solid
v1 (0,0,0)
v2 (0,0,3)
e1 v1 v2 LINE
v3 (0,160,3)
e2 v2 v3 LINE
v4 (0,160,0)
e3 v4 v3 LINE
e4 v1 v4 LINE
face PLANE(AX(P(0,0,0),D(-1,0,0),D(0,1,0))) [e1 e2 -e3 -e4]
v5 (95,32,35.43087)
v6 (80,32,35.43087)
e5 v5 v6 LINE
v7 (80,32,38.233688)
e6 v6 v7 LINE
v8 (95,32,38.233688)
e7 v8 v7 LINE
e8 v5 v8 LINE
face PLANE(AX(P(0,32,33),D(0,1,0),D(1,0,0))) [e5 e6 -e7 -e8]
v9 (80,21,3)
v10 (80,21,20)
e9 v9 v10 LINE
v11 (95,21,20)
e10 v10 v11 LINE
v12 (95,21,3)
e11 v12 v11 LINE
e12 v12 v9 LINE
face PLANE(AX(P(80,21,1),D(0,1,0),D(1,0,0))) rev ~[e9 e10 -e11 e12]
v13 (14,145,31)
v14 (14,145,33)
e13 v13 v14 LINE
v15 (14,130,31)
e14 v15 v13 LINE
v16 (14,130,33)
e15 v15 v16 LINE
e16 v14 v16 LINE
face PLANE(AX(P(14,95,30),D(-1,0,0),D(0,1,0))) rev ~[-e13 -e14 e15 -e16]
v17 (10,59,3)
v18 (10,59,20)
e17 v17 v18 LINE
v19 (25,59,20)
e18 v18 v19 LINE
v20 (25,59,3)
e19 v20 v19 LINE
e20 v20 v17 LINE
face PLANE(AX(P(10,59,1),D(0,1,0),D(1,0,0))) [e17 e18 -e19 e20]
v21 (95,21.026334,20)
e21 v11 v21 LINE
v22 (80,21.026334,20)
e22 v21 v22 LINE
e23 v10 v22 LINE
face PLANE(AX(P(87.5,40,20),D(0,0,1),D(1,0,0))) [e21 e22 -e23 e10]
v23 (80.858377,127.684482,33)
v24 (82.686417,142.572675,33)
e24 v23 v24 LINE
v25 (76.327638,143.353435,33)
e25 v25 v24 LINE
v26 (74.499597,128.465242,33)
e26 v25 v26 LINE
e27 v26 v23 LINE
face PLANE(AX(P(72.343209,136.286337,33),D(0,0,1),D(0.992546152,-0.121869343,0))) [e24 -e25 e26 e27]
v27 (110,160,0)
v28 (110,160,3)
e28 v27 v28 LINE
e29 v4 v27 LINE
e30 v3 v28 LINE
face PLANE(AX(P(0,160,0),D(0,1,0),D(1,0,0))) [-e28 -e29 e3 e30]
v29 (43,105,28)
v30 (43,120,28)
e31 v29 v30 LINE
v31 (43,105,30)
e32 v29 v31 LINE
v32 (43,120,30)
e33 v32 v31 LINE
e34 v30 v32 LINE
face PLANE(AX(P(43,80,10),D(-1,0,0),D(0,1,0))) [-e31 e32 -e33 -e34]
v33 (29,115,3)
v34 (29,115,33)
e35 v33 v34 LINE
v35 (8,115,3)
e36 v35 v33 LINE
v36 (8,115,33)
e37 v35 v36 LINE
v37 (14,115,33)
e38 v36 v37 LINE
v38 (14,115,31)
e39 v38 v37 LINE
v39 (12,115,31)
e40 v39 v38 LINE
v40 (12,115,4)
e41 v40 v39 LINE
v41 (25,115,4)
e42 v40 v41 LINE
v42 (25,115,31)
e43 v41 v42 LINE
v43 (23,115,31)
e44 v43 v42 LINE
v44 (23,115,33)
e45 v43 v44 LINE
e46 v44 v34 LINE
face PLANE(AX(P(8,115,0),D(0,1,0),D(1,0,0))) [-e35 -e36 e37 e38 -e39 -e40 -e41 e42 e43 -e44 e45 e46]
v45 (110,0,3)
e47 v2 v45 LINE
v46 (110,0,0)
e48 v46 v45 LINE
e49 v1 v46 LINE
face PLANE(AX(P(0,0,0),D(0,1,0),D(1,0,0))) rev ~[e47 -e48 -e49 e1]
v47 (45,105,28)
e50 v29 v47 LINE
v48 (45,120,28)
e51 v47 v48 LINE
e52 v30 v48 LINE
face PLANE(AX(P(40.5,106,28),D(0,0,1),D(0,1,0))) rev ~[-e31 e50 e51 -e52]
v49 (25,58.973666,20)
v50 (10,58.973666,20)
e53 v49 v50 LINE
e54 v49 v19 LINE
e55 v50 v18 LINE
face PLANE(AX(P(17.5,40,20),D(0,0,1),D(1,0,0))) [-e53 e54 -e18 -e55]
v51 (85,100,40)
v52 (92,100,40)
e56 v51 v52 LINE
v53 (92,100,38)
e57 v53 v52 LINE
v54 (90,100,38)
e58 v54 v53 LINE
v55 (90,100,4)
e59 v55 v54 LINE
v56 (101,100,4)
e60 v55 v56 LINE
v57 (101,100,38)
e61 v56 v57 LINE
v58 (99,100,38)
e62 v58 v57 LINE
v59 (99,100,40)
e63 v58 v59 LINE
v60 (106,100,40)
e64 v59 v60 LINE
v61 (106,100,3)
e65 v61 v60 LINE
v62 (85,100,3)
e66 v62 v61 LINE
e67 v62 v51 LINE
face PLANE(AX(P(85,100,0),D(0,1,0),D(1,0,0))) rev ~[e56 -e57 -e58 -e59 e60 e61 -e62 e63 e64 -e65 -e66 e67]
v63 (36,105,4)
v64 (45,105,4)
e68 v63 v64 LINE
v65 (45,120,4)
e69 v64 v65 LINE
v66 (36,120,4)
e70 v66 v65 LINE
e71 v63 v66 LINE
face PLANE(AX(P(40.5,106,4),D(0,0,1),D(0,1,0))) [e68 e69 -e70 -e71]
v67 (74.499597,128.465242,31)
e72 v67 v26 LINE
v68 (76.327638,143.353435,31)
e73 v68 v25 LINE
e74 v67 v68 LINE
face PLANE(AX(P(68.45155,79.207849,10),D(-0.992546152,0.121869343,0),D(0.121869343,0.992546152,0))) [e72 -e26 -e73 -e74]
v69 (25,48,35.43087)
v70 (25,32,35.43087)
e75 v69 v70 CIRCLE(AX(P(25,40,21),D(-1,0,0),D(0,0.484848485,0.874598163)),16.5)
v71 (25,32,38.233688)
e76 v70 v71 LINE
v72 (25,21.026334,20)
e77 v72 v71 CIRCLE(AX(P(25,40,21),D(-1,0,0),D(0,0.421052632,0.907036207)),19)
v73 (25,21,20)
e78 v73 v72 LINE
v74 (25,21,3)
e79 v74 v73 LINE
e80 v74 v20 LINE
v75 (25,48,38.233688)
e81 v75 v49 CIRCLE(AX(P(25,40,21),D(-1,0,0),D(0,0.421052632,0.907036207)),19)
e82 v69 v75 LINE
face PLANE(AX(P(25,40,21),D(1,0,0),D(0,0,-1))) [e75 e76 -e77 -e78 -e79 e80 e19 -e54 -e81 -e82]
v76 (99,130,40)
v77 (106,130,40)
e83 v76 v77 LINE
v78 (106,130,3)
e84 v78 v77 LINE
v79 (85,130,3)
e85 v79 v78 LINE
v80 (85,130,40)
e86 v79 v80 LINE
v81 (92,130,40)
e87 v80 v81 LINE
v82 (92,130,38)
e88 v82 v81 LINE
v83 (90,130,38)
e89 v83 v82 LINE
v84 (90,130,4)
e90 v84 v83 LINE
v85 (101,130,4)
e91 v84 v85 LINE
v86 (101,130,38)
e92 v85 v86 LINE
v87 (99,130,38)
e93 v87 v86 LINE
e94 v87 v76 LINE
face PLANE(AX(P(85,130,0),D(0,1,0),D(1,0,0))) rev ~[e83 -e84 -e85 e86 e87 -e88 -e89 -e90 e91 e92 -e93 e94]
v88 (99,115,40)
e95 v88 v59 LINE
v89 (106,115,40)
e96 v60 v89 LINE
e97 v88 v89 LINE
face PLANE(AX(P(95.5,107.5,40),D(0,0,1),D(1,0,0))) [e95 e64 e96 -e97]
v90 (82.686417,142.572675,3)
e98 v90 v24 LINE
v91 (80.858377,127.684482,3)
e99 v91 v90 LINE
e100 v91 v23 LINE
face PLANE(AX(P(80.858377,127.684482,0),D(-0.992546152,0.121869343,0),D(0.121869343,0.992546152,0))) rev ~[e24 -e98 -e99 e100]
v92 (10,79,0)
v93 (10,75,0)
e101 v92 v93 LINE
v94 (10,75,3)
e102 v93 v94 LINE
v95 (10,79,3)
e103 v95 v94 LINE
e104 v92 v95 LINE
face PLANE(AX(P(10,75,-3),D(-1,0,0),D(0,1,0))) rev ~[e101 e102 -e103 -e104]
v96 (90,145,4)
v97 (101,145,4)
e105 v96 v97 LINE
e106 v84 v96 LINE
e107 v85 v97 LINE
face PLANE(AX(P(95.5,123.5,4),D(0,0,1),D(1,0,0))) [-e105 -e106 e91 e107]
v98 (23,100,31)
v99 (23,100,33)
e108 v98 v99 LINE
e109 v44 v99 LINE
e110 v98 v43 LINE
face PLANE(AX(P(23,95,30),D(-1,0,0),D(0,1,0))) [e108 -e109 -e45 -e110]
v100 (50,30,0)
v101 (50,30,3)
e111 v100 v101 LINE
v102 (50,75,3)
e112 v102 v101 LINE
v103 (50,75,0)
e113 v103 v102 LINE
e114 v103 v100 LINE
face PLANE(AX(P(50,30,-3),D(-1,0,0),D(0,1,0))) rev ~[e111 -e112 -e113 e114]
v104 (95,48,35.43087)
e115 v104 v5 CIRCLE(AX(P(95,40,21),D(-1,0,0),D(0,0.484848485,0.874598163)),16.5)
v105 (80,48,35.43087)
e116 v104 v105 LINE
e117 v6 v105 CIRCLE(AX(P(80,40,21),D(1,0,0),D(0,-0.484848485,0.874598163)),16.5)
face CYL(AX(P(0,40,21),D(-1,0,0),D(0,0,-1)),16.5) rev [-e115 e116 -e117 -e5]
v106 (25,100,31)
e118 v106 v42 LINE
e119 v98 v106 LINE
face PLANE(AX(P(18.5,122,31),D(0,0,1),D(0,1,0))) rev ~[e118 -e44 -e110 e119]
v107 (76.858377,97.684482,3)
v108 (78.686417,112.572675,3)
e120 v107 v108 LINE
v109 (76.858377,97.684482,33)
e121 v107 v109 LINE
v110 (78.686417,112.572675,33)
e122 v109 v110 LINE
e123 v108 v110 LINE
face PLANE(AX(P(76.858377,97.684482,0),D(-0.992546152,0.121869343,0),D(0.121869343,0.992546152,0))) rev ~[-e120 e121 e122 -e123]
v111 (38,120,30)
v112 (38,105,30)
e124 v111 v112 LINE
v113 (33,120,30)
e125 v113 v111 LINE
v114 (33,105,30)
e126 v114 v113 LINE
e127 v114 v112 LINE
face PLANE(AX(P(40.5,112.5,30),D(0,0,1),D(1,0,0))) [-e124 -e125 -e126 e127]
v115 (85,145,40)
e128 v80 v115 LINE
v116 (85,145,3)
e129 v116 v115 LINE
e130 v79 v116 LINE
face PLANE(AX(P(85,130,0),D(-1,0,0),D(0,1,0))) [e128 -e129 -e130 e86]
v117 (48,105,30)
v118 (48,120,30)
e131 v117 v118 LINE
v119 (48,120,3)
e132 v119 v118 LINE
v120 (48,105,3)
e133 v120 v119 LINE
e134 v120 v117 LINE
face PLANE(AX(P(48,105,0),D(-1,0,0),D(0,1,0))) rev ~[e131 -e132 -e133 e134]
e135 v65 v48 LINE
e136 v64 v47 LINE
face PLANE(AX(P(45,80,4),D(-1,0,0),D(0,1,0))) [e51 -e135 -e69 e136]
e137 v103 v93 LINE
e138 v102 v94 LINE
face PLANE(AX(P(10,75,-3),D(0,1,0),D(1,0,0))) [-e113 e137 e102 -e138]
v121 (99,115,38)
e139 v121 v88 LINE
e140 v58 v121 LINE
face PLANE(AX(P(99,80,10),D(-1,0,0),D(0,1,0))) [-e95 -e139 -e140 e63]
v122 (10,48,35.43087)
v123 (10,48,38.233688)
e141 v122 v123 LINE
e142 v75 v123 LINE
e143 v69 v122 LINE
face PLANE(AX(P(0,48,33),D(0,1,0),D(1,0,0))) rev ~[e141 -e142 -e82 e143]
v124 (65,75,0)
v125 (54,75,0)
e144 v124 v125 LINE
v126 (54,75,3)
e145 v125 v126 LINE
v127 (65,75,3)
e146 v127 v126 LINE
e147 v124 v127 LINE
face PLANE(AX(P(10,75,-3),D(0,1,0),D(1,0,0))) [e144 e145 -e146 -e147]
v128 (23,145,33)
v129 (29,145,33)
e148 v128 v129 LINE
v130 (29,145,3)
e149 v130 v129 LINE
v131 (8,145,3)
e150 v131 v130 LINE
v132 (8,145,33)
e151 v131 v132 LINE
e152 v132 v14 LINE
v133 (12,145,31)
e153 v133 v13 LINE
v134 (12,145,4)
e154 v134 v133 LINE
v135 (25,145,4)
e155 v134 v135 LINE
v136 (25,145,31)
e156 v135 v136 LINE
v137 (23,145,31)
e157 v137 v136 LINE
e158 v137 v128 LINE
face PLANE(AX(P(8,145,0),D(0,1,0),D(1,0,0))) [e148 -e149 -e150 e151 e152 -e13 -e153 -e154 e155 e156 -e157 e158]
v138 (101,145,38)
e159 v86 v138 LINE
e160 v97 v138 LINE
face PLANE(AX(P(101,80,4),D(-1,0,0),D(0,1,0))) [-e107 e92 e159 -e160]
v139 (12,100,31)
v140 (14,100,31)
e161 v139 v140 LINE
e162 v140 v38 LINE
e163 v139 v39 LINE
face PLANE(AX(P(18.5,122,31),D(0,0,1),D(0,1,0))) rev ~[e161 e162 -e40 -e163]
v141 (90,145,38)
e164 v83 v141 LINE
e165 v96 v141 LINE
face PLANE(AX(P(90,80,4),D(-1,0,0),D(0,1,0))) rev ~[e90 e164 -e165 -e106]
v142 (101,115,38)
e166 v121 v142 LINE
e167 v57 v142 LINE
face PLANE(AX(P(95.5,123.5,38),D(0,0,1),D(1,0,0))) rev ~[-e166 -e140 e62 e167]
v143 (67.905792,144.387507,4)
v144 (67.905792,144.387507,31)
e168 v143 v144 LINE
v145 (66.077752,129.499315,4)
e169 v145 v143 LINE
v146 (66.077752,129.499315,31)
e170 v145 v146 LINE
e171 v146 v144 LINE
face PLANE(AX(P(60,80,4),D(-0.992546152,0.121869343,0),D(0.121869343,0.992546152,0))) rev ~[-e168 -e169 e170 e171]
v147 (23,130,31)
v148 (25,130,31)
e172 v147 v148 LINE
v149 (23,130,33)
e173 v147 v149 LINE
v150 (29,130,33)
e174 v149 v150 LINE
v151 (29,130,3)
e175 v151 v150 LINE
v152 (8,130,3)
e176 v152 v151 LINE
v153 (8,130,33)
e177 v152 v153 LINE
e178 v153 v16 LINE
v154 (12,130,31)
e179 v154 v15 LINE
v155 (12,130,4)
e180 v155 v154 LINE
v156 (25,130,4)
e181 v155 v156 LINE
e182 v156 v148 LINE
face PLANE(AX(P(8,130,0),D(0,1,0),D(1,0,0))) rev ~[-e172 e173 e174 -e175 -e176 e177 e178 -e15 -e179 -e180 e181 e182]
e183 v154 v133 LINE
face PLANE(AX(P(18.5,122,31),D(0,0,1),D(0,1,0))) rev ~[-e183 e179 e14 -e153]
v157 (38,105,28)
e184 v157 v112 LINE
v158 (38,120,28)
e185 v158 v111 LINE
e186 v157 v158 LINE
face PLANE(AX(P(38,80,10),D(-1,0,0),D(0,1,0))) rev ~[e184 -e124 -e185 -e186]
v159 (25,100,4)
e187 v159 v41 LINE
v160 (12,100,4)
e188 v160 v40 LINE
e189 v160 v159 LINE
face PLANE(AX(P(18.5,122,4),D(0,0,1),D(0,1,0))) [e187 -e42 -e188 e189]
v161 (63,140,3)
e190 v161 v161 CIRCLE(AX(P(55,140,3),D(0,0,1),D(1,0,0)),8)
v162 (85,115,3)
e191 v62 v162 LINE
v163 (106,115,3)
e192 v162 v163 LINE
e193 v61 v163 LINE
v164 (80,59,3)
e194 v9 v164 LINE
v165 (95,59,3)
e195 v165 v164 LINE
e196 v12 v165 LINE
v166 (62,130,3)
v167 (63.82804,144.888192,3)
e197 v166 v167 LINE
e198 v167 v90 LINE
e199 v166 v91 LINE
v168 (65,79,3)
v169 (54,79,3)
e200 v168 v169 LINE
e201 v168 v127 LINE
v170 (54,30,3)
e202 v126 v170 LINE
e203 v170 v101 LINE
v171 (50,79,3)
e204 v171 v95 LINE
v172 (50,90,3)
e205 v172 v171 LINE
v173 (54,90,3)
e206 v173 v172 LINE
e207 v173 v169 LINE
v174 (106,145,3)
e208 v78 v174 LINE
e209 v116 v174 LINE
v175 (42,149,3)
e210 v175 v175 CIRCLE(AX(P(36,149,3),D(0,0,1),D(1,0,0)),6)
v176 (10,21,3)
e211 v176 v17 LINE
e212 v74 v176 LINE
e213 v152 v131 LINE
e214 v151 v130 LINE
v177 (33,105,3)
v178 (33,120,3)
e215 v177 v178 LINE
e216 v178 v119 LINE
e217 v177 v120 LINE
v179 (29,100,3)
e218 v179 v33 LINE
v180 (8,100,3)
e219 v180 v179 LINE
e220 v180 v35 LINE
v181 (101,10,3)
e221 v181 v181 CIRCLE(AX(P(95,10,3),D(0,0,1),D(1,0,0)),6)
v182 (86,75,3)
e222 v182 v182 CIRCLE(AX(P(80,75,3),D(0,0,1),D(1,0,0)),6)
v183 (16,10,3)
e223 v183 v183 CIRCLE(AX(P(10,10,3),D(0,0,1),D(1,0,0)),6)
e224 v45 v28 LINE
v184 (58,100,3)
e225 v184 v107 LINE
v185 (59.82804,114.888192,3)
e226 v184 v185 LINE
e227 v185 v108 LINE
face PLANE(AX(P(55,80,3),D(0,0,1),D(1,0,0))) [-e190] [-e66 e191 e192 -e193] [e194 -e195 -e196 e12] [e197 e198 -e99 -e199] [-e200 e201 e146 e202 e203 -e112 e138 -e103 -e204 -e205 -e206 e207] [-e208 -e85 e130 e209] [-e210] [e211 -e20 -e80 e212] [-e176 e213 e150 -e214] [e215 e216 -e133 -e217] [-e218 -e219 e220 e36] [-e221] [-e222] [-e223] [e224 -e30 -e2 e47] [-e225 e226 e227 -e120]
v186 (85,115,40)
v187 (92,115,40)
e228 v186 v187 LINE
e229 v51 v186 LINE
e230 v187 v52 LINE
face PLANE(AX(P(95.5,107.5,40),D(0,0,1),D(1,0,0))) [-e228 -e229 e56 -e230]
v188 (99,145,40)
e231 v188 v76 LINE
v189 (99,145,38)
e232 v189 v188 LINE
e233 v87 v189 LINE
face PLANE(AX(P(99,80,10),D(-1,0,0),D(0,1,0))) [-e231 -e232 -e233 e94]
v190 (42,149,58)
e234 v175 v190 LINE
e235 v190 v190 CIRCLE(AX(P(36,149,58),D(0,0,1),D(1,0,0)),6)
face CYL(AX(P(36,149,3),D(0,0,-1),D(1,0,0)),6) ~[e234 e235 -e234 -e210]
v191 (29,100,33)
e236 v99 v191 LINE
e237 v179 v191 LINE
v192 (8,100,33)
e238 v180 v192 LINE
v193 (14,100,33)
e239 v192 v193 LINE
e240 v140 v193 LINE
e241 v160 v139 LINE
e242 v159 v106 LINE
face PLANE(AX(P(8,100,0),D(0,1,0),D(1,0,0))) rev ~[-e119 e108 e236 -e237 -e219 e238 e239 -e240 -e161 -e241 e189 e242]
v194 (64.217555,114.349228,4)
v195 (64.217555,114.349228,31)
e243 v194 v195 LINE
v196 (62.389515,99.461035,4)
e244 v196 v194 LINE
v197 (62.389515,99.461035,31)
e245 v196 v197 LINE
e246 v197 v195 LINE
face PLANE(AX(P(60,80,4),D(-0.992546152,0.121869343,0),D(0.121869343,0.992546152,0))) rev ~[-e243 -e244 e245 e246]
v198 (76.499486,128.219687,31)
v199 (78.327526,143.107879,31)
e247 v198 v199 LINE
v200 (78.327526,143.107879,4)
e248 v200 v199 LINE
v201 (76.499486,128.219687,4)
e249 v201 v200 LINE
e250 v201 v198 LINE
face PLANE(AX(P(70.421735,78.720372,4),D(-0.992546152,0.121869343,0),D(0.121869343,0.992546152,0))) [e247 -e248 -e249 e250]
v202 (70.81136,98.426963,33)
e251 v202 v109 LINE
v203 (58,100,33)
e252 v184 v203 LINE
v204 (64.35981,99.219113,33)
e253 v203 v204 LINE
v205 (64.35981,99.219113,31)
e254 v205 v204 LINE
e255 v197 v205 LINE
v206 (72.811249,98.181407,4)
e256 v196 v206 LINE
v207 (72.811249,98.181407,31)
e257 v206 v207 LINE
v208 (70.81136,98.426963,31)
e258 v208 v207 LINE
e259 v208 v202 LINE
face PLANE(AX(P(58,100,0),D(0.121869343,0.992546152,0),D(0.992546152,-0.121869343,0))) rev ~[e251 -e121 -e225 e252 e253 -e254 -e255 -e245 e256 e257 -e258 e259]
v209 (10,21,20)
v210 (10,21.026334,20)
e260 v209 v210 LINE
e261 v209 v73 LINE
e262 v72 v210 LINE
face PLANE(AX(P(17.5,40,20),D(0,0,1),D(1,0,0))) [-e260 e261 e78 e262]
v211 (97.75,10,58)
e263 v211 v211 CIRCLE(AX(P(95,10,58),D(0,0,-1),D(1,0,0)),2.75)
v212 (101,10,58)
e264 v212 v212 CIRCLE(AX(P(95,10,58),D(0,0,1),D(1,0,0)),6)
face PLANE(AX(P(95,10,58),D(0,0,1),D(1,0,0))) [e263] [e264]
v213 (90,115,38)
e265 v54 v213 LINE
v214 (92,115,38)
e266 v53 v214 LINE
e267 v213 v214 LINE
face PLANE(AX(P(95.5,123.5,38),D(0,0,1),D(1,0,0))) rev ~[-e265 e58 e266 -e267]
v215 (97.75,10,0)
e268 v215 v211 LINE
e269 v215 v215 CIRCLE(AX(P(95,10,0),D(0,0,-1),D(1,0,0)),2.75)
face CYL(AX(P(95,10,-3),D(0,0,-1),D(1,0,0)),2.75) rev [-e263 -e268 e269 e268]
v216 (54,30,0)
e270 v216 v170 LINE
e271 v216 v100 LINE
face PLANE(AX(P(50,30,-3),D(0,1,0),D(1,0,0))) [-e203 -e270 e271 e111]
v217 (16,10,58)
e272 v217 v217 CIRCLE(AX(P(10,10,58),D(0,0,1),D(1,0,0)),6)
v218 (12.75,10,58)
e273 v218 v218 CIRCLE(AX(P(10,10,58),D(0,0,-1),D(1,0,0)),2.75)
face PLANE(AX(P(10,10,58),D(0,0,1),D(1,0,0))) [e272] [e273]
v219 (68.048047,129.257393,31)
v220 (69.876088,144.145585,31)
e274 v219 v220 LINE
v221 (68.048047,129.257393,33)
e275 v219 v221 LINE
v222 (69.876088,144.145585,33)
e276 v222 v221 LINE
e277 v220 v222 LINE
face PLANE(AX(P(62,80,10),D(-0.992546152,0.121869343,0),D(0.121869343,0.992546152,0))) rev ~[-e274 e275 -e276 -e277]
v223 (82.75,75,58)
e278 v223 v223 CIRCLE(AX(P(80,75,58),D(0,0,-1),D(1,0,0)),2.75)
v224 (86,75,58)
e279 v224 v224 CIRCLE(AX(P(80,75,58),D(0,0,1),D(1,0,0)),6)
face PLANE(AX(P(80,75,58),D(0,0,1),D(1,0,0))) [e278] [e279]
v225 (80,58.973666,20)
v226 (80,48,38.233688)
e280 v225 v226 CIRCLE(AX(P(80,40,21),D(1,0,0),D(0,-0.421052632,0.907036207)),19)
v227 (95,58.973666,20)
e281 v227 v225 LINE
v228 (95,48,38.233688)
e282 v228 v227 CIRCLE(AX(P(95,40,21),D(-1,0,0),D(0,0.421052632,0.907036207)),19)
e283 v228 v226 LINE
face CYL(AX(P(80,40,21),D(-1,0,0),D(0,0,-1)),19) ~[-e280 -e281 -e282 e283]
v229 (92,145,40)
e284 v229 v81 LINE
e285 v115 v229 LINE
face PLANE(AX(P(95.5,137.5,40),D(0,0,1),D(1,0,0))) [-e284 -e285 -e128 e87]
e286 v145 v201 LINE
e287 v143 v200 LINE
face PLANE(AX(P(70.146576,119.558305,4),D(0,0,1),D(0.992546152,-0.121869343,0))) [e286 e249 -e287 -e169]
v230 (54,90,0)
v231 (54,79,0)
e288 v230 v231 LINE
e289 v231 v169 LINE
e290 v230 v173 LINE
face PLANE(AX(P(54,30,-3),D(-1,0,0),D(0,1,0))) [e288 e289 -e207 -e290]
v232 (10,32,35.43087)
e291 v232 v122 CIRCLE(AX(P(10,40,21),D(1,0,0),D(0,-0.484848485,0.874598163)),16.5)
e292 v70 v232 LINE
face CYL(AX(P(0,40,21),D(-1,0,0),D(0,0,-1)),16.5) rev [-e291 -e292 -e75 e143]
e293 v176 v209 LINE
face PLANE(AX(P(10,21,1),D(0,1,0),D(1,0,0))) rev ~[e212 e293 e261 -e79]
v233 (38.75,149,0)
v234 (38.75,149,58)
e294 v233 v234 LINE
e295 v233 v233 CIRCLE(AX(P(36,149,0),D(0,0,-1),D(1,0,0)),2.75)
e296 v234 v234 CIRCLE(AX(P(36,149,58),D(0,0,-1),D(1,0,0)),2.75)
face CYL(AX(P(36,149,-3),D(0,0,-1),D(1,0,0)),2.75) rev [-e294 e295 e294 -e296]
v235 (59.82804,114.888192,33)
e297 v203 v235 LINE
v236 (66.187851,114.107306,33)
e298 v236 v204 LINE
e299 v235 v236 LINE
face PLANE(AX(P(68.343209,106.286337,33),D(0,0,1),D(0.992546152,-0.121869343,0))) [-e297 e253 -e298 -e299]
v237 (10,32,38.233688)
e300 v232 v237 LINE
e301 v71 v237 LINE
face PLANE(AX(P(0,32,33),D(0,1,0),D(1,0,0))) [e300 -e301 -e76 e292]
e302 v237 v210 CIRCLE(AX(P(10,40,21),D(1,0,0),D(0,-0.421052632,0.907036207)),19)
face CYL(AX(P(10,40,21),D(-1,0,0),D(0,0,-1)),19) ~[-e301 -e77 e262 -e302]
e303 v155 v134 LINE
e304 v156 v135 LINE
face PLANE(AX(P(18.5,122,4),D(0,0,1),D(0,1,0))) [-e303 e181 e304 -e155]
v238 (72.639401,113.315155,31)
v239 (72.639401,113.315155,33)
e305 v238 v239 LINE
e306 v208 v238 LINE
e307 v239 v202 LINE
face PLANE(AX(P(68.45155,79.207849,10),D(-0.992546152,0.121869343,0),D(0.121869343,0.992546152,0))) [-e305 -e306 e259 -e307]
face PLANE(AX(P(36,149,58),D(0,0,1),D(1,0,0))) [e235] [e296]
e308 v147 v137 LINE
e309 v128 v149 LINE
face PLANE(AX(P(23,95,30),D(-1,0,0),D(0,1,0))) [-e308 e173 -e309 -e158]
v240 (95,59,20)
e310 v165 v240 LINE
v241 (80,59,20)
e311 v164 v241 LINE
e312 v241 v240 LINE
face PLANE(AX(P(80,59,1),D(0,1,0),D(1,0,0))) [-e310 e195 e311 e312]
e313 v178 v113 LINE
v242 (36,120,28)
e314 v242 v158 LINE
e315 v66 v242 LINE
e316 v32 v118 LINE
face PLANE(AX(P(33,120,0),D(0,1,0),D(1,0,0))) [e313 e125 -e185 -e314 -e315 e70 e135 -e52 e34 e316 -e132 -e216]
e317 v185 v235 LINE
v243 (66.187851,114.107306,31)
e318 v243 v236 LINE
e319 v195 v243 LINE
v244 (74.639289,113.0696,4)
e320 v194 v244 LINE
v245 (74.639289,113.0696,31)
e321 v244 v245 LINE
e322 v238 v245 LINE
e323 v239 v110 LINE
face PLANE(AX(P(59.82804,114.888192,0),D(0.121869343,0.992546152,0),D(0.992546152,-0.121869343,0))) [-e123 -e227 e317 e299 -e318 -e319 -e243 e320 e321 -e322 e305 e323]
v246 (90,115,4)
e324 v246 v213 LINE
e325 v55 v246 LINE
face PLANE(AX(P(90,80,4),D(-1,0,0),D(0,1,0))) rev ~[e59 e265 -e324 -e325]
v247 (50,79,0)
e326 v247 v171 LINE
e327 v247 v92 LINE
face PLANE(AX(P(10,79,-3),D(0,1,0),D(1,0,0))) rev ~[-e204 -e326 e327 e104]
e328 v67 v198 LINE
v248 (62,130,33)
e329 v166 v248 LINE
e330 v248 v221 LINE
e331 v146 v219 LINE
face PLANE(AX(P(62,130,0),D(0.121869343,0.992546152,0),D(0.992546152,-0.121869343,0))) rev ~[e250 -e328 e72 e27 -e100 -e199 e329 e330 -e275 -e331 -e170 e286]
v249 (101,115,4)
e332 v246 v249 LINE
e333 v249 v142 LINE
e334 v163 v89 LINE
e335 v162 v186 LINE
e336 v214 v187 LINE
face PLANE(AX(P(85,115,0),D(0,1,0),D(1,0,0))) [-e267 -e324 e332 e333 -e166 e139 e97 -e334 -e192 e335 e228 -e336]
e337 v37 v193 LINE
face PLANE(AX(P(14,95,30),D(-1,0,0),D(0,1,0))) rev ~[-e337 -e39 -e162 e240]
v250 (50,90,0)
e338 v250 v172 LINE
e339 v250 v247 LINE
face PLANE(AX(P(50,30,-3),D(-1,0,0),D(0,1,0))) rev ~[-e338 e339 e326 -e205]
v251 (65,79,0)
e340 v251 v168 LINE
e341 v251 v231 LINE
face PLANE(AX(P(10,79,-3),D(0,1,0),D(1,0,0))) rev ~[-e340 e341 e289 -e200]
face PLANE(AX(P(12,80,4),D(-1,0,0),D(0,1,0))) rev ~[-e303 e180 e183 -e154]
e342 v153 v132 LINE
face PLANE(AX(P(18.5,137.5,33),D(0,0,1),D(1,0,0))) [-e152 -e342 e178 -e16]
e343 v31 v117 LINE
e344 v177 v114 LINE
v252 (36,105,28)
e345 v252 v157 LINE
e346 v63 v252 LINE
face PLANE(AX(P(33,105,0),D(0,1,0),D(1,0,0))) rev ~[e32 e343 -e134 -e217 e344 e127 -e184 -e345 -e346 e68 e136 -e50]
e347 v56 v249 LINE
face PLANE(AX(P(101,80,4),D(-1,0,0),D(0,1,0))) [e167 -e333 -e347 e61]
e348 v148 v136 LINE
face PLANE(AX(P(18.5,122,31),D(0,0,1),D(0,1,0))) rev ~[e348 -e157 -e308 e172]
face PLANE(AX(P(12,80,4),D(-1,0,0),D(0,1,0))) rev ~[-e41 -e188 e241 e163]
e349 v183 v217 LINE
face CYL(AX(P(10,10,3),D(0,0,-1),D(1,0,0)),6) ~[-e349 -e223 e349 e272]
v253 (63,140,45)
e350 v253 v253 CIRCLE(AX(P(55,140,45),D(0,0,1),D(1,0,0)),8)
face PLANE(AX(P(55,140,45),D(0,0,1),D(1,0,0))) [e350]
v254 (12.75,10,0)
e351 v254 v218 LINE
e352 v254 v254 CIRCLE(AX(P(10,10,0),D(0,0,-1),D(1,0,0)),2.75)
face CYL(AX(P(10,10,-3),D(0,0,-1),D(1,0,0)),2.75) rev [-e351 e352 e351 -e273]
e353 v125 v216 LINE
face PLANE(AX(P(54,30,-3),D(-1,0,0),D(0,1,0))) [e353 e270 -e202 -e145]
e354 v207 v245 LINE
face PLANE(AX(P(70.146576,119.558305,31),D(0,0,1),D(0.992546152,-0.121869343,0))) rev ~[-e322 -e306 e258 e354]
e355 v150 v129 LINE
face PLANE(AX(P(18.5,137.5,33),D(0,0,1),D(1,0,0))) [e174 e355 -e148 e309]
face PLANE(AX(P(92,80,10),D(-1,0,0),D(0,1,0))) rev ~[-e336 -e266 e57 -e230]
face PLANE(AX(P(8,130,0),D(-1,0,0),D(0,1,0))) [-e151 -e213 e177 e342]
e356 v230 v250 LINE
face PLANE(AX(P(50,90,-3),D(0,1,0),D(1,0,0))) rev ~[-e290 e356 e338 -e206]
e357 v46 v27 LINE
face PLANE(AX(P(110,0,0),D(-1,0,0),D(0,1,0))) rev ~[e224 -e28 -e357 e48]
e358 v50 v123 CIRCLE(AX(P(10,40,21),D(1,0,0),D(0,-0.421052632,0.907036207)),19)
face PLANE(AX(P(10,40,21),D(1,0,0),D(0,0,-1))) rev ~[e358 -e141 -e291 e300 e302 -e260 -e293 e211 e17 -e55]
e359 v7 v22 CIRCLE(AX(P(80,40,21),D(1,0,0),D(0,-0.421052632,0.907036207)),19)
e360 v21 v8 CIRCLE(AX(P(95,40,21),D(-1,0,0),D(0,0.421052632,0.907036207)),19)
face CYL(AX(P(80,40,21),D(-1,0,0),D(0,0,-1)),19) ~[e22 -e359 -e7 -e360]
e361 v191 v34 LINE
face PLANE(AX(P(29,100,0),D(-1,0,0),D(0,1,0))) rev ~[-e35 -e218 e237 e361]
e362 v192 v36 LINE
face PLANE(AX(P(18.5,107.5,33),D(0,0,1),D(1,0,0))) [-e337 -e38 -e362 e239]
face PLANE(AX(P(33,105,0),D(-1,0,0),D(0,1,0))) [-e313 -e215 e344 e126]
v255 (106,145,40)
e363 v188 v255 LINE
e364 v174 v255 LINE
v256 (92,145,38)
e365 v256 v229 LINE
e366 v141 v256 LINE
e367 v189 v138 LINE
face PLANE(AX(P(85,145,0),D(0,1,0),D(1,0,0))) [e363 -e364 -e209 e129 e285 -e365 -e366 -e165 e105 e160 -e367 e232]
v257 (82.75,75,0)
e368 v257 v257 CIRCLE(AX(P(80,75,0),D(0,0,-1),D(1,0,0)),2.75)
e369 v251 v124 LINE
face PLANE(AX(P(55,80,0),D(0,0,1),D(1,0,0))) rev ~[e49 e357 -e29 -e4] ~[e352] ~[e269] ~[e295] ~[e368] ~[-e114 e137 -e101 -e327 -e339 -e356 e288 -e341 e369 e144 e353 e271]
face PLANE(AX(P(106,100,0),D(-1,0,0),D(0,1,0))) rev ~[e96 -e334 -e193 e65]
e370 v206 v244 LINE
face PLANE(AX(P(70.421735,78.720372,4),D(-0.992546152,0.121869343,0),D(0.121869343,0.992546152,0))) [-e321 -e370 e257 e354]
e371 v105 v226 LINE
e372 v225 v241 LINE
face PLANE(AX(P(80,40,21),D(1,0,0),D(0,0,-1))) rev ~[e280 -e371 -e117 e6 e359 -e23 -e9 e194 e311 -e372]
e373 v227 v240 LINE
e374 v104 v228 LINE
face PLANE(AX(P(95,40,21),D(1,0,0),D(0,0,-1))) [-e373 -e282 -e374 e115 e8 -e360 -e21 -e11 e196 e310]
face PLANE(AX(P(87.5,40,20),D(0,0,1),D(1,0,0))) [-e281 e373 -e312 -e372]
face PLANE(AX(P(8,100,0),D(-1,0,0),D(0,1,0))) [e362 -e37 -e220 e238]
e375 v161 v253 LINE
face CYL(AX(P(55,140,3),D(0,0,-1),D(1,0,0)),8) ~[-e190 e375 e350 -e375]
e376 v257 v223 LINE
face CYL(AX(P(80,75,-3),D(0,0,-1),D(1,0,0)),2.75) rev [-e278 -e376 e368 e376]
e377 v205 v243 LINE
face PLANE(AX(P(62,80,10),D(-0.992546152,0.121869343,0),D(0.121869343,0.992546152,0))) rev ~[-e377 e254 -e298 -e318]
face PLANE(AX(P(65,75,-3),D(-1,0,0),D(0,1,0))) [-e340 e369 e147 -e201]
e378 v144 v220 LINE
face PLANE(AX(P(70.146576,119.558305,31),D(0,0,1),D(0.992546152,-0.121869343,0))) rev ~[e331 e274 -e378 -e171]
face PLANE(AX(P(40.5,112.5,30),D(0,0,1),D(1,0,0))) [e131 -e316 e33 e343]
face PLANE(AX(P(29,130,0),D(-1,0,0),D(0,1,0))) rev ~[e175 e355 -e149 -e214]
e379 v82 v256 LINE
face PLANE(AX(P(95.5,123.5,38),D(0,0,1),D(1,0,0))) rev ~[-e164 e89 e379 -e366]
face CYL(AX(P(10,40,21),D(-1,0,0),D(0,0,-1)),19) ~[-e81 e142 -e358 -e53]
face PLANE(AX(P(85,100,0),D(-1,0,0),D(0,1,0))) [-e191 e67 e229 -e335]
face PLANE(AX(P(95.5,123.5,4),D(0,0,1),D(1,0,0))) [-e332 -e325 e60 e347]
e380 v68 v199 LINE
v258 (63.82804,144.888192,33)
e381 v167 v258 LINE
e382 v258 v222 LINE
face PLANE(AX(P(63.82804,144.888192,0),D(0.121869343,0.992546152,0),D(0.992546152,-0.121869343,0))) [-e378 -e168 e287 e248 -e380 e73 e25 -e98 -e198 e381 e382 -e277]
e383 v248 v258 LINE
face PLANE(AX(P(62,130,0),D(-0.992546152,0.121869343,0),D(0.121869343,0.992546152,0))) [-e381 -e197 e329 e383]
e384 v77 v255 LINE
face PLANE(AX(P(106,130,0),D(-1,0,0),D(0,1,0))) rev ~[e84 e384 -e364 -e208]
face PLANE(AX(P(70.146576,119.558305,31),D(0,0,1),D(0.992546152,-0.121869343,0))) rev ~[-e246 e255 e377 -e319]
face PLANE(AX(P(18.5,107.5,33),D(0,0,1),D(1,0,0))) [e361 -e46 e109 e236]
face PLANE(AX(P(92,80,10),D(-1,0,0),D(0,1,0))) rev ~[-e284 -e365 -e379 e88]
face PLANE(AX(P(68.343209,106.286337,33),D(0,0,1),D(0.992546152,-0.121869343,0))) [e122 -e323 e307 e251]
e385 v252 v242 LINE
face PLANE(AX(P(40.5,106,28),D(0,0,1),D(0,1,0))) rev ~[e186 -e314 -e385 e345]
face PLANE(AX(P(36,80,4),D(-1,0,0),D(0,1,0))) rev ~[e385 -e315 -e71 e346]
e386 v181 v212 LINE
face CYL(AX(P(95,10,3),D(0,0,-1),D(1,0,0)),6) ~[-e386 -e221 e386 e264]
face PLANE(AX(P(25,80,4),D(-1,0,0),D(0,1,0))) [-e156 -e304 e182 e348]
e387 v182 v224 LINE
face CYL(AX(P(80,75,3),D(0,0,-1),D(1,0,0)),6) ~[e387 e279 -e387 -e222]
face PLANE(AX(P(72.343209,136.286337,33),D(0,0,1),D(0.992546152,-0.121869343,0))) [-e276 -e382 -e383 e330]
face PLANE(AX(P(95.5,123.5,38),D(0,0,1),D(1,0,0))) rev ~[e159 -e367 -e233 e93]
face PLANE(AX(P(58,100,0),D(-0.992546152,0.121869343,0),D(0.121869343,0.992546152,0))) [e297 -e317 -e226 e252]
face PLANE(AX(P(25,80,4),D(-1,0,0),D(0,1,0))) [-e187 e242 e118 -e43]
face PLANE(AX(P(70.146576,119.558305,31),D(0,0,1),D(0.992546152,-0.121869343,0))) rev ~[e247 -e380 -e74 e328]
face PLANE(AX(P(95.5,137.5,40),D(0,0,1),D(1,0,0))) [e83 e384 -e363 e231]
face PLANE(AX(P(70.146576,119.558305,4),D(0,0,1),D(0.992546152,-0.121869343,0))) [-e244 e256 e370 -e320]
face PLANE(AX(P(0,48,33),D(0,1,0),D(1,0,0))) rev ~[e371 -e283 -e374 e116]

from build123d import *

# Parameters (mm, degrees)
BOX003_W                = 52
BOX003_H                = 9
BOX003_DEPTH            = 24
BOX003_PLACEMENT_ANGLE  = 90
BOX008_W                = 52
BOX008_H                = 5
BOX008_DEPTH            = 24
BOX008_PLACEMENT_ANGLE  = 90
BOX007_W                = 15
BOX007_H                = 15
BOX007_DEPTH            = 30
BOX002_W                = 84
BOX002_H                = 13
BOX002_DEPTH            = 27
BOX002_PLACEMENT_ANGLE  = 90
BOX006_W                = 9
BOX006_H                = 60
BOX006_DEPTH            = 10
BOX004_W                = 21
BOX004_H                = 15
BOX004_DEPTH            = 33
BOX005_W                = 21
BOX005_H                = 15
BOX005_DEPTH            = 33
BOX034_W                = 10.5
BOX034_H                = 81
BOX034_DEPTH            = 27
BOX034_PLACEMENT_ANGLE  = -7
BOX035_W                = 6.5
BOX035_H                = 81
BOX035_DEPTH            = 34
BOX035_PLACEMENT_ANGLE  = -7
BOX037_W                = 19
BOX037_H                = 15
BOX037_DEPTH            = 33
BOX037_PLACEMENT_ANGLE  = -7
BOX036_W                = 19
BOX036_H                = 15
BOX036_DEPTH            = 33
BOX036_PLACEMENT_ANGLE  = -7
BOX010_W                = 11
BOX010_H                = 87
BOX010_DEPTH            = 34
BOX013_W                = 7
BOX013_H                = 87
BOX013_DEPTH            = 34
BOX011_W                = 21
BOX011_H                = 15
BOX011_DEPTH            = 40
BOX012_W                = 21
BOX012_H                = 15
BOX012_DEPTH            = 40
BOX020_W                = 4
BOX020_H                = 60
BOX020_DEPTH            = 10
BOX019_W                = 55
BOX019_H                = 4
BOX019_DEPTH            = 10
CYLINDER007_R           = 2.75
CYLINDER007_DEPTH       = 70
CYLINDER010_R           = 2.75
CYLINDER010_DEPTH       = 70
CYLINDER013_R           = 2.75
CYLINDER013_DEPTH       = 70
CYLINDER006_R           = 2.75
CYLINDER006_DEPTH       = 70
CYLINDER_R              = 6
CYLINDER_DEPTH          = 55
CYLINDER008_R           = 6
CYLINDER008_DEPTH       = 55
CYLINDER009_R           = 6
CYLINDER009_DEPTH       = 55
CYLINDER012_R           = 6
CYLINDER012_DEPTH       = 55
BOX_W                   = 110
BOX_H                   = 160
BOX_DEPTH               = 3
CYLINDER005_R           = 19
CYLINDER005_DEPTH       = 15
CYLINDER005_PITCH_ANGLE = 90
BOX033_W                = 15
BOX033_H                = 38
BOX033_DEPTH            = 19
BOX001_W                = 108
BOX001_H                = 16
BOX001_DEPTH            = 10
CYLINDER003_R           = 16.5
CYLINDER003_DEPTH       = 108
CYLINDER003_PITCH_ANGLE = 90
CYLINDER004_R           = 19
CYLINDER004_DEPTH       = 15
CYLINDER004_PITCH_ANGLE = 90
BOX032_W                = 15
BOX032_H                = 38
BOX032_DEPTH            = 19
CYLINDER011_R           = 8
CYLINDER011_DEPTH       = 42


with BuildPart() as gps:
    # Box003 → Box003 (new body)
    with BuildSketch(Plane.XY):
        with Locations((26, 4.5)):
            Rectangle(BOX003_W, BOX003_H)
    extrude(amount=BOX003_DEPTH)


with BuildPart() as gps_1:
    # Box003 placement: moved
    add(gps.part.moved(Location((45, 80, 4))).rotate(Axis((45, 80, 4), (0, 0, 1)), BOX003_PLACEMENT_ANGLE))


with BuildPart() as fusion002:
    # Box008 → Box008 (new body)
    with BuildSketch(Plane.XY):
        with Locations((26, 2.5)):
            Rectangle(BOX008_W, BOX008_H)
    extrude(amount=BOX008_DEPTH)


with BuildPart() as fusion002_1:
    # Box008 placement: moved
    add(fusion002.part.moved(Location((43, 80, 10))).rotate(Axis((43, 80, 10), (0, 0, 1)), BOX008_PLACEMENT_ANGLE))

    # Fusion002: union GPS
    add(gps_1.part)


with BuildPart() as gps_halterung:
    # Box007 → Box007 (new body)
    with BuildSketch(Plane(origin=(33, 105, 0), x_dir=(1, 0, 0), z_dir=(0, 0, 1))):
        with Locations((7.5, 7.5)):
            Rectangle(BOX007_W, BOX007_H)
    extrude(amount=BOX007_DEPTH)

    # Cut004: cut Fusion002
    add(fusion002_1.part, mode=Mode.SUBTRACT)


with BuildPart() as dvb_t:
    # Box002 → Box002 (new body)
    with BuildSketch(Plane.XY):
        with Locations((42, 6.5)):
            Rectangle(BOX002_W, BOX002_H)
    extrude(amount=BOX002_DEPTH)


with BuildPart() as dvb_t_1:
    # Box002 placement: moved
    add(dvb_t.part.moved(Location((25, 80, 4))).rotate(Axis((25, 80, 4), (0, 0, 1)), BOX002_PLACEMENT_ANGLE))


with BuildPart() as halterung:
    # Box006 → Box006 (new body)
    with BuildSketch(Plane(origin=(14, 95, 30), x_dir=(1, 0, 0), z_dir=(0, 0, 1))):
        with Locations((4.5, 30)):
            Rectangle(BOX006_W, BOX006_H)
    extrude(amount=BOX006_DEPTH)


with BuildPart() as w_rfel002:
    # Box004 → Box004 (new body)
    with BuildSketch(Plane(origin=(8, 100, 0), x_dir=(1, 0, 0), z_dir=(0, 0, 1))):
        with Locations((10.5, 7.5)):
            Rectangle(BOX004_W, BOX004_H)
    extrude(amount=BOX004_DEPTH)


with BuildPart() as dvb_t_halterung:
    # Box005 → Box005 (new body)
    with BuildSketch(Plane(origin=(8, 130, 0), x_dir=(1, 0, 0), z_dir=(0, 0, 1))):
        with Locations((10.5, 7.5)):
            Rectangle(BOX005_W, BOX005_H)
    extrude(amount=BOX005_DEPTH)

    # Fusion001: union Würfel002
    add(w_rfel002.part)

    # Cut002: cut Halterung
    add(halterung.part, mode=Mode.SUBTRACT)

    # Cut003: cut DVB-T
    add(dvb_t_1.part, mode=Mode.SUBTRACT)


with BuildPart() as huawei:
    # Box034 → Box034 (new body)
    with BuildSketch(Plane.XY):
        with Locations((5.25, 40.5)):
            Rectangle(BOX034_W, BOX034_H)
    extrude(amount=BOX034_DEPTH)


with BuildPart() as huawei_1:
    # Box034 placement: moved
    add(huawei.part.moved(Location((60, 80, 4))).rotate(Axis((60, 80, 4), (0, 0, 1)), BOX034_PLACEMENT_ANGLE))


with BuildPart() as fusion019:
    # Box035 → Box035 (new body)
    with BuildSketch(Plane.XY):
        with Locations((3.25, 40.5)):
            Rectangle(BOX035_W, BOX035_H)
    extrude(amount=BOX035_DEPTH)


with BuildPart() as fusion019_1:
    # Box035 placement: moved
    add(fusion019.part.moved(Location((62, 80, 10))).rotate(Axis((62, 80, 10), (0, 0, 1)), BOX035_PLACEMENT_ANGLE))

    # Fusion019: union Huawei
    add(huawei_1.part)


with BuildPart() as w_rfel028:
    # Box037 → Box037 (new body)
    with BuildSketch(Plane.XY):
        with Locations((9.5, 7.5)):
            Rectangle(BOX037_W, BOX037_H)
    extrude(amount=BOX037_DEPTH)


with BuildPart() as w_rfel028_1:
    # Box037 placement: moved
    add(w_rfel028.part.moved(Location((62, 130, 0))).rotate(Axis((62, 130, 0), (0, 0, 1)), BOX037_PLACEMENT_ANGLE))


with BuildPart() as huawei_halterung:
    # Box036 → Box036 (new body)
    with BuildSketch(Plane.XY):
        with Locations((9.5, 7.5)):
            Rectangle(BOX036_W, BOX036_H)
    extrude(amount=BOX036_DEPTH)


with BuildPart() as huawei_halterung_1:
    # Box036 placement: moved
    add(huawei_halterung.part.moved(Location((58, 100, 0))).rotate(Axis((58, 100, 0), (0, 0, 1)), BOX036_PLACEMENT_ANGLE))

    # Fusion018: union Würfel028
    add(w_rfel028_1.part)

    # Cut024: cut Fusion019
    add(fusion019_1.part, mode=Mode.SUBTRACT)


with BuildPart() as alfa:
    # Box010 → Box010 (new body)
    with BuildSketch(Plane(origin=(90, 80, 4), x_dir=(1, 0, 0), z_dir=(0, 0, 1))):
        with Locations((5.5, 43.5)):
            Rectangle(BOX010_W, BOX010_H)
    extrude(amount=BOX010_DEPTH)


with BuildPart() as fusion004:
    # Box013 → Box013 (new body)
    with BuildSketch(Plane(origin=(92, 80, 10), x_dir=(1, 0, 0), z_dir=(0, 0, 1))):
        with Locations((3.5, 43.5)):
            Rectangle(BOX013_W, BOX013_H)
    extrude(amount=BOX013_DEPTH)

    # Fusion004: union Alfa
    add(alfa.part)


with BuildPart() as w_rfel005:
    # Box011 → Box011 (new body)
    with BuildSketch(Plane(origin=(85, 130, 0), x_dir=(1, 0, 0), z_dir=(0, 0, 1))):
        with Locations((10.5, 7.5)):
            Rectangle(BOX011_W, BOX011_H)
    extrude(amount=BOX011_DEPTH)


with BuildPart() as alfa_halterung:
    # Box012 → Box012 (new body)
    with BuildSketch(Plane(origin=(85, 100, 0), x_dir=(1, 0, 0), z_dir=(0, 0, 1))):
        with Locations((10.5, 7.5)):
            Rectangle(BOX012_W, BOX012_H)
    extrude(amount=BOX012_DEPTH)

    # Fusion003: union Würfel005
    add(w_rfel005.part)

    # Cut005: cut Fusion004
    add(fusion004.part, mode=Mode.SUBTRACT)


with BuildPart() as w_rfel013:
    # Box020 → Box020 (new body)
    with BuildSketch(Plane(origin=(50, 30, -3), x_dir=(1, 0, 0), z_dir=(0, 0, 1))):
        with Locations((2, 30)):
            Rectangle(BOX020_W, BOX020_H)
    extrude(amount=BOX020_DEPTH)


with BuildPart() as fusion013:
    # Box019 → Box019 (new body)
    with BuildSketch(Plane(origin=(10, 75, -3), x_dir=(1, 0, 0), z_dir=(0, 0, 1))):
        with Locations((27.5, 2)):
            Rectangle(BOX019_W, BOX019_H)
    extrude(amount=BOX019_DEPTH)

    # Fusion013: union Würfel013
    add(w_rfel013.part)


with BuildPart() as cylinder007:
    # Cylinder007 → Cylinder007 (new body)
    with BuildSketch(Plane(origin=(36, 149, -3), x_dir=(1, 0, 0), z_dir=(0, 0, 1))):
        Circle(CYLINDER007_R)
    extrude(amount=CYLINDER007_DEPTH)


with BuildPart() as cylinder010:
    # Cylinder010 → Cylinder010 (new body)
    with BuildSketch(Plane(origin=(10, 10, -3), x_dir=(1, 0, 0), z_dir=(0, 0, 1))):
        Circle(CYLINDER010_R)
    extrude(amount=CYLINDER010_DEPTH)


with BuildPart() as cylinder013:
    # Cylinder013 → Cylinder013 (new body)
    with BuildSketch(Plane(origin=(80, 75, -3), x_dir=(1, 0, 0), z_dir=(0, 0, 1))):
        Circle(CYLINDER013_R)
    extrude(amount=CYLINDER013_DEPTH)


with BuildPart() as fusion010:
    # Cylinder006 → Cylinder006 (new body)
    with BuildSketch(Plane(origin=(95, 10, -3), x_dir=(1, 0, 0), z_dir=(0, 0, 1))):
        Circle(CYLINDER006_R)
    extrude(amount=CYLINDER006_DEPTH)

    # Fusion010: union Cylinder007, Cylinder010, Cylinder013
    add(cylinder007.part)
    add(cylinder010.part)
    add(cylinder013.part)


with BuildPart() as cylinder:
    # Cylinder → Cylinder (new body)
    with BuildSketch(Plane(origin=(10, 10, 3), x_dir=(1, 0, 0), z_dir=(0, 0, 1))):
        Circle(CYLINDER_R)
    extrude(amount=CYLINDER_DEPTH)


with BuildPart() as cylinder008:
    # Cylinder008 → Cylinder008 (new body)
    with BuildSketch(Plane(origin=(36, 149, 3), x_dir=(1, 0, 0), z_dir=(0, 0, 1))):
        Circle(CYLINDER008_R)
    extrude(amount=CYLINDER008_DEPTH)


with BuildPart() as cylinder009:
    # Cylinder009 → Cylinder009 (new body)
    with BuildSketch(Plane(origin=(95, 10, 3), x_dir=(1, 0, 0), z_dir=(0, 0, 1))):
        Circle(CYLINDER009_R)
    extrude(amount=CYLINDER009_DEPTH)


with BuildPart() as cylinder012:
    # Cylinder012 → Cylinder012 (new body)
    with BuildSketch(Plane(origin=(80, 75, 3), x_dir=(1, 0, 0), z_dir=(0, 0, 1))):
        Circle(CYLINDER012_R)
    extrude(amount=CYLINDER012_DEPTH)


with BuildPart() as bodenplatte:
    # Box → Box (new body)
    with BuildSketch(Plane.XY):
        with Locations((55, 80)):
            Rectangle(BOX_W, BOX_H)
    extrude(amount=BOX_DEPTH)

    # Fusion009: union Cylinder, Cylinder008, Cylinder009, Cylinder012
    add(cylinder.part)
    add(cylinder008.part)
    add(cylinder009.part)
    add(cylinder012.part)

    # Cut011: cut Fusion010
    add(fusion010.part, mode=Mode.SUBTRACT)

    # Cut016: cut Fusion013
    add(fusion013.part, mode=Mode.SUBTRACT)


with BuildPart() as powercore002:
    # Cylinder005 → Cylinder005 (new body)
    with BuildSketch(Plane.XY):
        Circle(CYLINDER005_R)
    extrude(amount=CYLINDER005_DEPTH)


with BuildPart() as powercore002_1:
    # Cylinder005 pitch: moved
    add(powercore002.part.rotate(Axis((0, 0, 0), (0, 1, 0)), CYLINDER005_PITCH_ANGLE))


with BuildPart() as powercore002_2:
    # Cylinder005 placement: moved
    add(powercore002_1.part.moved(Location((80, 40, 21))))


with BuildPart() as cut023:
    # Box033 → Box033 (new body)
    with BuildSketch(Plane(origin=(80, 21, 1), x_dir=(1, 0, 0), z_dir=(0, 0, 1))):
        with Locations((7.5, 19)):
            Rectangle(BOX033_W, BOX033_H)
    extrude(amount=BOX033_DEPTH)

    # Cut023: cut PowerCore002
    add(powercore002_2.part, mode=Mode.SUBTRACT)


with BuildPart() as w_rfel001:
    # Box001 → Box001 (new body)
    with BuildSketch(Plane(origin=(0, 32, 33), x_dir=(1, 0, 0), z_dir=(0, 0, 1))):
        with Locations((54, 8)):
            Rectangle(BOX001_W, BOX001_H)
    extrude(amount=BOX001_DEPTH)


with BuildPart() as powercore:
    # Cylinder003 → Cylinder003 (new body)
    with BuildSketch(Plane.XY):
        Circle(CYLINDER003_R)
    extrude(amount=CYLINDER003_DEPTH)


with BuildPart() as powercore_1:
    # Cylinder003 pitch: moved
    add(powercore.part.rotate(Axis((0, 0, 0), (0, 1, 0)), CYLINDER003_PITCH_ANGLE))


with BuildPart() as powercore_2:
    # Cylinder003 placement: moved
    add(powercore_1.part.moved(Location((0, 40, 21))))


with BuildPart() as powercore001:
    # Cylinder004 → Cylinder004 (new body)
    with BuildSketch(Plane.XY):
        Circle(CYLINDER004_R)
    extrude(amount=CYLINDER004_DEPTH)


with BuildPart() as powercore001_1:
    # Cylinder004 pitch: moved
    add(powercore001.part.rotate(Axis((0, 0, 0), (0, 1, 0)), CYLINDER004_PITCH_ANGLE))


with BuildPart() as powercore001_2:
    # Cylinder004 placement: moved
    add(powercore001_1.part.moved(Location((10, 40, 21))))


with BuildPart() as anker_powerbank:
    # Fusion base: copy of PowerCore001
    add(powercore001_2.part)

    # Fusion: union PowerCore002
    add(powercore002_2.part)

    # Cut: cut PowerCore
    add(powercore_2.part, mode=Mode.SUBTRACT)

    # Cut001: cut Würfel001
    add(w_rfel001.part, mode=Mode.SUBTRACT)


with BuildPart() as anker_powerbank_stabil:
    # Box032 → Box032 (new body)
    with BuildSketch(Plane(origin=(10, 21, 1), x_dir=(1, 0, 0), z_dir=(0, 0, 1))):
        with Locations((7.5, 19)):
            Rectangle(BOX032_W, BOX032_H)
    extrude(amount=BOX032_DEPTH)

    # Cut022: cut PowerCore001
    add(powercore001_2.part, mode=Mode.SUBTRACT)

    # Fusion017: union Cut023, Anker Powerbank
    add(cut023.part)
    add(anker_powerbank.part)


with BuildPart() as fusion020:
    # Cylinder011 → Cylinder011 (new body)
    with BuildSketch(Plane(origin=(55, 140, 3), x_dir=(1, 0, 0), z_dir=(0, 0, 1))):
        Circle(CYLINDER011_R)
    extrude(amount=CYLINDER011_DEPTH)

    # Fusion020: union GPS Halterung, DVB-T Halterung, HUAWEI Halterung, Alfa Halterung, Bodenplatte, Anker Powerbank stabil
    add(gps_halterung.part)
    add(dvb_t_halterung.part)
    add(huawei_halterung_1.part)
    add(alfa_halterung.part)
    add(bodenplatte.part)
    add(anker_powerbank_stabil.part)


solid = fusion020.part
